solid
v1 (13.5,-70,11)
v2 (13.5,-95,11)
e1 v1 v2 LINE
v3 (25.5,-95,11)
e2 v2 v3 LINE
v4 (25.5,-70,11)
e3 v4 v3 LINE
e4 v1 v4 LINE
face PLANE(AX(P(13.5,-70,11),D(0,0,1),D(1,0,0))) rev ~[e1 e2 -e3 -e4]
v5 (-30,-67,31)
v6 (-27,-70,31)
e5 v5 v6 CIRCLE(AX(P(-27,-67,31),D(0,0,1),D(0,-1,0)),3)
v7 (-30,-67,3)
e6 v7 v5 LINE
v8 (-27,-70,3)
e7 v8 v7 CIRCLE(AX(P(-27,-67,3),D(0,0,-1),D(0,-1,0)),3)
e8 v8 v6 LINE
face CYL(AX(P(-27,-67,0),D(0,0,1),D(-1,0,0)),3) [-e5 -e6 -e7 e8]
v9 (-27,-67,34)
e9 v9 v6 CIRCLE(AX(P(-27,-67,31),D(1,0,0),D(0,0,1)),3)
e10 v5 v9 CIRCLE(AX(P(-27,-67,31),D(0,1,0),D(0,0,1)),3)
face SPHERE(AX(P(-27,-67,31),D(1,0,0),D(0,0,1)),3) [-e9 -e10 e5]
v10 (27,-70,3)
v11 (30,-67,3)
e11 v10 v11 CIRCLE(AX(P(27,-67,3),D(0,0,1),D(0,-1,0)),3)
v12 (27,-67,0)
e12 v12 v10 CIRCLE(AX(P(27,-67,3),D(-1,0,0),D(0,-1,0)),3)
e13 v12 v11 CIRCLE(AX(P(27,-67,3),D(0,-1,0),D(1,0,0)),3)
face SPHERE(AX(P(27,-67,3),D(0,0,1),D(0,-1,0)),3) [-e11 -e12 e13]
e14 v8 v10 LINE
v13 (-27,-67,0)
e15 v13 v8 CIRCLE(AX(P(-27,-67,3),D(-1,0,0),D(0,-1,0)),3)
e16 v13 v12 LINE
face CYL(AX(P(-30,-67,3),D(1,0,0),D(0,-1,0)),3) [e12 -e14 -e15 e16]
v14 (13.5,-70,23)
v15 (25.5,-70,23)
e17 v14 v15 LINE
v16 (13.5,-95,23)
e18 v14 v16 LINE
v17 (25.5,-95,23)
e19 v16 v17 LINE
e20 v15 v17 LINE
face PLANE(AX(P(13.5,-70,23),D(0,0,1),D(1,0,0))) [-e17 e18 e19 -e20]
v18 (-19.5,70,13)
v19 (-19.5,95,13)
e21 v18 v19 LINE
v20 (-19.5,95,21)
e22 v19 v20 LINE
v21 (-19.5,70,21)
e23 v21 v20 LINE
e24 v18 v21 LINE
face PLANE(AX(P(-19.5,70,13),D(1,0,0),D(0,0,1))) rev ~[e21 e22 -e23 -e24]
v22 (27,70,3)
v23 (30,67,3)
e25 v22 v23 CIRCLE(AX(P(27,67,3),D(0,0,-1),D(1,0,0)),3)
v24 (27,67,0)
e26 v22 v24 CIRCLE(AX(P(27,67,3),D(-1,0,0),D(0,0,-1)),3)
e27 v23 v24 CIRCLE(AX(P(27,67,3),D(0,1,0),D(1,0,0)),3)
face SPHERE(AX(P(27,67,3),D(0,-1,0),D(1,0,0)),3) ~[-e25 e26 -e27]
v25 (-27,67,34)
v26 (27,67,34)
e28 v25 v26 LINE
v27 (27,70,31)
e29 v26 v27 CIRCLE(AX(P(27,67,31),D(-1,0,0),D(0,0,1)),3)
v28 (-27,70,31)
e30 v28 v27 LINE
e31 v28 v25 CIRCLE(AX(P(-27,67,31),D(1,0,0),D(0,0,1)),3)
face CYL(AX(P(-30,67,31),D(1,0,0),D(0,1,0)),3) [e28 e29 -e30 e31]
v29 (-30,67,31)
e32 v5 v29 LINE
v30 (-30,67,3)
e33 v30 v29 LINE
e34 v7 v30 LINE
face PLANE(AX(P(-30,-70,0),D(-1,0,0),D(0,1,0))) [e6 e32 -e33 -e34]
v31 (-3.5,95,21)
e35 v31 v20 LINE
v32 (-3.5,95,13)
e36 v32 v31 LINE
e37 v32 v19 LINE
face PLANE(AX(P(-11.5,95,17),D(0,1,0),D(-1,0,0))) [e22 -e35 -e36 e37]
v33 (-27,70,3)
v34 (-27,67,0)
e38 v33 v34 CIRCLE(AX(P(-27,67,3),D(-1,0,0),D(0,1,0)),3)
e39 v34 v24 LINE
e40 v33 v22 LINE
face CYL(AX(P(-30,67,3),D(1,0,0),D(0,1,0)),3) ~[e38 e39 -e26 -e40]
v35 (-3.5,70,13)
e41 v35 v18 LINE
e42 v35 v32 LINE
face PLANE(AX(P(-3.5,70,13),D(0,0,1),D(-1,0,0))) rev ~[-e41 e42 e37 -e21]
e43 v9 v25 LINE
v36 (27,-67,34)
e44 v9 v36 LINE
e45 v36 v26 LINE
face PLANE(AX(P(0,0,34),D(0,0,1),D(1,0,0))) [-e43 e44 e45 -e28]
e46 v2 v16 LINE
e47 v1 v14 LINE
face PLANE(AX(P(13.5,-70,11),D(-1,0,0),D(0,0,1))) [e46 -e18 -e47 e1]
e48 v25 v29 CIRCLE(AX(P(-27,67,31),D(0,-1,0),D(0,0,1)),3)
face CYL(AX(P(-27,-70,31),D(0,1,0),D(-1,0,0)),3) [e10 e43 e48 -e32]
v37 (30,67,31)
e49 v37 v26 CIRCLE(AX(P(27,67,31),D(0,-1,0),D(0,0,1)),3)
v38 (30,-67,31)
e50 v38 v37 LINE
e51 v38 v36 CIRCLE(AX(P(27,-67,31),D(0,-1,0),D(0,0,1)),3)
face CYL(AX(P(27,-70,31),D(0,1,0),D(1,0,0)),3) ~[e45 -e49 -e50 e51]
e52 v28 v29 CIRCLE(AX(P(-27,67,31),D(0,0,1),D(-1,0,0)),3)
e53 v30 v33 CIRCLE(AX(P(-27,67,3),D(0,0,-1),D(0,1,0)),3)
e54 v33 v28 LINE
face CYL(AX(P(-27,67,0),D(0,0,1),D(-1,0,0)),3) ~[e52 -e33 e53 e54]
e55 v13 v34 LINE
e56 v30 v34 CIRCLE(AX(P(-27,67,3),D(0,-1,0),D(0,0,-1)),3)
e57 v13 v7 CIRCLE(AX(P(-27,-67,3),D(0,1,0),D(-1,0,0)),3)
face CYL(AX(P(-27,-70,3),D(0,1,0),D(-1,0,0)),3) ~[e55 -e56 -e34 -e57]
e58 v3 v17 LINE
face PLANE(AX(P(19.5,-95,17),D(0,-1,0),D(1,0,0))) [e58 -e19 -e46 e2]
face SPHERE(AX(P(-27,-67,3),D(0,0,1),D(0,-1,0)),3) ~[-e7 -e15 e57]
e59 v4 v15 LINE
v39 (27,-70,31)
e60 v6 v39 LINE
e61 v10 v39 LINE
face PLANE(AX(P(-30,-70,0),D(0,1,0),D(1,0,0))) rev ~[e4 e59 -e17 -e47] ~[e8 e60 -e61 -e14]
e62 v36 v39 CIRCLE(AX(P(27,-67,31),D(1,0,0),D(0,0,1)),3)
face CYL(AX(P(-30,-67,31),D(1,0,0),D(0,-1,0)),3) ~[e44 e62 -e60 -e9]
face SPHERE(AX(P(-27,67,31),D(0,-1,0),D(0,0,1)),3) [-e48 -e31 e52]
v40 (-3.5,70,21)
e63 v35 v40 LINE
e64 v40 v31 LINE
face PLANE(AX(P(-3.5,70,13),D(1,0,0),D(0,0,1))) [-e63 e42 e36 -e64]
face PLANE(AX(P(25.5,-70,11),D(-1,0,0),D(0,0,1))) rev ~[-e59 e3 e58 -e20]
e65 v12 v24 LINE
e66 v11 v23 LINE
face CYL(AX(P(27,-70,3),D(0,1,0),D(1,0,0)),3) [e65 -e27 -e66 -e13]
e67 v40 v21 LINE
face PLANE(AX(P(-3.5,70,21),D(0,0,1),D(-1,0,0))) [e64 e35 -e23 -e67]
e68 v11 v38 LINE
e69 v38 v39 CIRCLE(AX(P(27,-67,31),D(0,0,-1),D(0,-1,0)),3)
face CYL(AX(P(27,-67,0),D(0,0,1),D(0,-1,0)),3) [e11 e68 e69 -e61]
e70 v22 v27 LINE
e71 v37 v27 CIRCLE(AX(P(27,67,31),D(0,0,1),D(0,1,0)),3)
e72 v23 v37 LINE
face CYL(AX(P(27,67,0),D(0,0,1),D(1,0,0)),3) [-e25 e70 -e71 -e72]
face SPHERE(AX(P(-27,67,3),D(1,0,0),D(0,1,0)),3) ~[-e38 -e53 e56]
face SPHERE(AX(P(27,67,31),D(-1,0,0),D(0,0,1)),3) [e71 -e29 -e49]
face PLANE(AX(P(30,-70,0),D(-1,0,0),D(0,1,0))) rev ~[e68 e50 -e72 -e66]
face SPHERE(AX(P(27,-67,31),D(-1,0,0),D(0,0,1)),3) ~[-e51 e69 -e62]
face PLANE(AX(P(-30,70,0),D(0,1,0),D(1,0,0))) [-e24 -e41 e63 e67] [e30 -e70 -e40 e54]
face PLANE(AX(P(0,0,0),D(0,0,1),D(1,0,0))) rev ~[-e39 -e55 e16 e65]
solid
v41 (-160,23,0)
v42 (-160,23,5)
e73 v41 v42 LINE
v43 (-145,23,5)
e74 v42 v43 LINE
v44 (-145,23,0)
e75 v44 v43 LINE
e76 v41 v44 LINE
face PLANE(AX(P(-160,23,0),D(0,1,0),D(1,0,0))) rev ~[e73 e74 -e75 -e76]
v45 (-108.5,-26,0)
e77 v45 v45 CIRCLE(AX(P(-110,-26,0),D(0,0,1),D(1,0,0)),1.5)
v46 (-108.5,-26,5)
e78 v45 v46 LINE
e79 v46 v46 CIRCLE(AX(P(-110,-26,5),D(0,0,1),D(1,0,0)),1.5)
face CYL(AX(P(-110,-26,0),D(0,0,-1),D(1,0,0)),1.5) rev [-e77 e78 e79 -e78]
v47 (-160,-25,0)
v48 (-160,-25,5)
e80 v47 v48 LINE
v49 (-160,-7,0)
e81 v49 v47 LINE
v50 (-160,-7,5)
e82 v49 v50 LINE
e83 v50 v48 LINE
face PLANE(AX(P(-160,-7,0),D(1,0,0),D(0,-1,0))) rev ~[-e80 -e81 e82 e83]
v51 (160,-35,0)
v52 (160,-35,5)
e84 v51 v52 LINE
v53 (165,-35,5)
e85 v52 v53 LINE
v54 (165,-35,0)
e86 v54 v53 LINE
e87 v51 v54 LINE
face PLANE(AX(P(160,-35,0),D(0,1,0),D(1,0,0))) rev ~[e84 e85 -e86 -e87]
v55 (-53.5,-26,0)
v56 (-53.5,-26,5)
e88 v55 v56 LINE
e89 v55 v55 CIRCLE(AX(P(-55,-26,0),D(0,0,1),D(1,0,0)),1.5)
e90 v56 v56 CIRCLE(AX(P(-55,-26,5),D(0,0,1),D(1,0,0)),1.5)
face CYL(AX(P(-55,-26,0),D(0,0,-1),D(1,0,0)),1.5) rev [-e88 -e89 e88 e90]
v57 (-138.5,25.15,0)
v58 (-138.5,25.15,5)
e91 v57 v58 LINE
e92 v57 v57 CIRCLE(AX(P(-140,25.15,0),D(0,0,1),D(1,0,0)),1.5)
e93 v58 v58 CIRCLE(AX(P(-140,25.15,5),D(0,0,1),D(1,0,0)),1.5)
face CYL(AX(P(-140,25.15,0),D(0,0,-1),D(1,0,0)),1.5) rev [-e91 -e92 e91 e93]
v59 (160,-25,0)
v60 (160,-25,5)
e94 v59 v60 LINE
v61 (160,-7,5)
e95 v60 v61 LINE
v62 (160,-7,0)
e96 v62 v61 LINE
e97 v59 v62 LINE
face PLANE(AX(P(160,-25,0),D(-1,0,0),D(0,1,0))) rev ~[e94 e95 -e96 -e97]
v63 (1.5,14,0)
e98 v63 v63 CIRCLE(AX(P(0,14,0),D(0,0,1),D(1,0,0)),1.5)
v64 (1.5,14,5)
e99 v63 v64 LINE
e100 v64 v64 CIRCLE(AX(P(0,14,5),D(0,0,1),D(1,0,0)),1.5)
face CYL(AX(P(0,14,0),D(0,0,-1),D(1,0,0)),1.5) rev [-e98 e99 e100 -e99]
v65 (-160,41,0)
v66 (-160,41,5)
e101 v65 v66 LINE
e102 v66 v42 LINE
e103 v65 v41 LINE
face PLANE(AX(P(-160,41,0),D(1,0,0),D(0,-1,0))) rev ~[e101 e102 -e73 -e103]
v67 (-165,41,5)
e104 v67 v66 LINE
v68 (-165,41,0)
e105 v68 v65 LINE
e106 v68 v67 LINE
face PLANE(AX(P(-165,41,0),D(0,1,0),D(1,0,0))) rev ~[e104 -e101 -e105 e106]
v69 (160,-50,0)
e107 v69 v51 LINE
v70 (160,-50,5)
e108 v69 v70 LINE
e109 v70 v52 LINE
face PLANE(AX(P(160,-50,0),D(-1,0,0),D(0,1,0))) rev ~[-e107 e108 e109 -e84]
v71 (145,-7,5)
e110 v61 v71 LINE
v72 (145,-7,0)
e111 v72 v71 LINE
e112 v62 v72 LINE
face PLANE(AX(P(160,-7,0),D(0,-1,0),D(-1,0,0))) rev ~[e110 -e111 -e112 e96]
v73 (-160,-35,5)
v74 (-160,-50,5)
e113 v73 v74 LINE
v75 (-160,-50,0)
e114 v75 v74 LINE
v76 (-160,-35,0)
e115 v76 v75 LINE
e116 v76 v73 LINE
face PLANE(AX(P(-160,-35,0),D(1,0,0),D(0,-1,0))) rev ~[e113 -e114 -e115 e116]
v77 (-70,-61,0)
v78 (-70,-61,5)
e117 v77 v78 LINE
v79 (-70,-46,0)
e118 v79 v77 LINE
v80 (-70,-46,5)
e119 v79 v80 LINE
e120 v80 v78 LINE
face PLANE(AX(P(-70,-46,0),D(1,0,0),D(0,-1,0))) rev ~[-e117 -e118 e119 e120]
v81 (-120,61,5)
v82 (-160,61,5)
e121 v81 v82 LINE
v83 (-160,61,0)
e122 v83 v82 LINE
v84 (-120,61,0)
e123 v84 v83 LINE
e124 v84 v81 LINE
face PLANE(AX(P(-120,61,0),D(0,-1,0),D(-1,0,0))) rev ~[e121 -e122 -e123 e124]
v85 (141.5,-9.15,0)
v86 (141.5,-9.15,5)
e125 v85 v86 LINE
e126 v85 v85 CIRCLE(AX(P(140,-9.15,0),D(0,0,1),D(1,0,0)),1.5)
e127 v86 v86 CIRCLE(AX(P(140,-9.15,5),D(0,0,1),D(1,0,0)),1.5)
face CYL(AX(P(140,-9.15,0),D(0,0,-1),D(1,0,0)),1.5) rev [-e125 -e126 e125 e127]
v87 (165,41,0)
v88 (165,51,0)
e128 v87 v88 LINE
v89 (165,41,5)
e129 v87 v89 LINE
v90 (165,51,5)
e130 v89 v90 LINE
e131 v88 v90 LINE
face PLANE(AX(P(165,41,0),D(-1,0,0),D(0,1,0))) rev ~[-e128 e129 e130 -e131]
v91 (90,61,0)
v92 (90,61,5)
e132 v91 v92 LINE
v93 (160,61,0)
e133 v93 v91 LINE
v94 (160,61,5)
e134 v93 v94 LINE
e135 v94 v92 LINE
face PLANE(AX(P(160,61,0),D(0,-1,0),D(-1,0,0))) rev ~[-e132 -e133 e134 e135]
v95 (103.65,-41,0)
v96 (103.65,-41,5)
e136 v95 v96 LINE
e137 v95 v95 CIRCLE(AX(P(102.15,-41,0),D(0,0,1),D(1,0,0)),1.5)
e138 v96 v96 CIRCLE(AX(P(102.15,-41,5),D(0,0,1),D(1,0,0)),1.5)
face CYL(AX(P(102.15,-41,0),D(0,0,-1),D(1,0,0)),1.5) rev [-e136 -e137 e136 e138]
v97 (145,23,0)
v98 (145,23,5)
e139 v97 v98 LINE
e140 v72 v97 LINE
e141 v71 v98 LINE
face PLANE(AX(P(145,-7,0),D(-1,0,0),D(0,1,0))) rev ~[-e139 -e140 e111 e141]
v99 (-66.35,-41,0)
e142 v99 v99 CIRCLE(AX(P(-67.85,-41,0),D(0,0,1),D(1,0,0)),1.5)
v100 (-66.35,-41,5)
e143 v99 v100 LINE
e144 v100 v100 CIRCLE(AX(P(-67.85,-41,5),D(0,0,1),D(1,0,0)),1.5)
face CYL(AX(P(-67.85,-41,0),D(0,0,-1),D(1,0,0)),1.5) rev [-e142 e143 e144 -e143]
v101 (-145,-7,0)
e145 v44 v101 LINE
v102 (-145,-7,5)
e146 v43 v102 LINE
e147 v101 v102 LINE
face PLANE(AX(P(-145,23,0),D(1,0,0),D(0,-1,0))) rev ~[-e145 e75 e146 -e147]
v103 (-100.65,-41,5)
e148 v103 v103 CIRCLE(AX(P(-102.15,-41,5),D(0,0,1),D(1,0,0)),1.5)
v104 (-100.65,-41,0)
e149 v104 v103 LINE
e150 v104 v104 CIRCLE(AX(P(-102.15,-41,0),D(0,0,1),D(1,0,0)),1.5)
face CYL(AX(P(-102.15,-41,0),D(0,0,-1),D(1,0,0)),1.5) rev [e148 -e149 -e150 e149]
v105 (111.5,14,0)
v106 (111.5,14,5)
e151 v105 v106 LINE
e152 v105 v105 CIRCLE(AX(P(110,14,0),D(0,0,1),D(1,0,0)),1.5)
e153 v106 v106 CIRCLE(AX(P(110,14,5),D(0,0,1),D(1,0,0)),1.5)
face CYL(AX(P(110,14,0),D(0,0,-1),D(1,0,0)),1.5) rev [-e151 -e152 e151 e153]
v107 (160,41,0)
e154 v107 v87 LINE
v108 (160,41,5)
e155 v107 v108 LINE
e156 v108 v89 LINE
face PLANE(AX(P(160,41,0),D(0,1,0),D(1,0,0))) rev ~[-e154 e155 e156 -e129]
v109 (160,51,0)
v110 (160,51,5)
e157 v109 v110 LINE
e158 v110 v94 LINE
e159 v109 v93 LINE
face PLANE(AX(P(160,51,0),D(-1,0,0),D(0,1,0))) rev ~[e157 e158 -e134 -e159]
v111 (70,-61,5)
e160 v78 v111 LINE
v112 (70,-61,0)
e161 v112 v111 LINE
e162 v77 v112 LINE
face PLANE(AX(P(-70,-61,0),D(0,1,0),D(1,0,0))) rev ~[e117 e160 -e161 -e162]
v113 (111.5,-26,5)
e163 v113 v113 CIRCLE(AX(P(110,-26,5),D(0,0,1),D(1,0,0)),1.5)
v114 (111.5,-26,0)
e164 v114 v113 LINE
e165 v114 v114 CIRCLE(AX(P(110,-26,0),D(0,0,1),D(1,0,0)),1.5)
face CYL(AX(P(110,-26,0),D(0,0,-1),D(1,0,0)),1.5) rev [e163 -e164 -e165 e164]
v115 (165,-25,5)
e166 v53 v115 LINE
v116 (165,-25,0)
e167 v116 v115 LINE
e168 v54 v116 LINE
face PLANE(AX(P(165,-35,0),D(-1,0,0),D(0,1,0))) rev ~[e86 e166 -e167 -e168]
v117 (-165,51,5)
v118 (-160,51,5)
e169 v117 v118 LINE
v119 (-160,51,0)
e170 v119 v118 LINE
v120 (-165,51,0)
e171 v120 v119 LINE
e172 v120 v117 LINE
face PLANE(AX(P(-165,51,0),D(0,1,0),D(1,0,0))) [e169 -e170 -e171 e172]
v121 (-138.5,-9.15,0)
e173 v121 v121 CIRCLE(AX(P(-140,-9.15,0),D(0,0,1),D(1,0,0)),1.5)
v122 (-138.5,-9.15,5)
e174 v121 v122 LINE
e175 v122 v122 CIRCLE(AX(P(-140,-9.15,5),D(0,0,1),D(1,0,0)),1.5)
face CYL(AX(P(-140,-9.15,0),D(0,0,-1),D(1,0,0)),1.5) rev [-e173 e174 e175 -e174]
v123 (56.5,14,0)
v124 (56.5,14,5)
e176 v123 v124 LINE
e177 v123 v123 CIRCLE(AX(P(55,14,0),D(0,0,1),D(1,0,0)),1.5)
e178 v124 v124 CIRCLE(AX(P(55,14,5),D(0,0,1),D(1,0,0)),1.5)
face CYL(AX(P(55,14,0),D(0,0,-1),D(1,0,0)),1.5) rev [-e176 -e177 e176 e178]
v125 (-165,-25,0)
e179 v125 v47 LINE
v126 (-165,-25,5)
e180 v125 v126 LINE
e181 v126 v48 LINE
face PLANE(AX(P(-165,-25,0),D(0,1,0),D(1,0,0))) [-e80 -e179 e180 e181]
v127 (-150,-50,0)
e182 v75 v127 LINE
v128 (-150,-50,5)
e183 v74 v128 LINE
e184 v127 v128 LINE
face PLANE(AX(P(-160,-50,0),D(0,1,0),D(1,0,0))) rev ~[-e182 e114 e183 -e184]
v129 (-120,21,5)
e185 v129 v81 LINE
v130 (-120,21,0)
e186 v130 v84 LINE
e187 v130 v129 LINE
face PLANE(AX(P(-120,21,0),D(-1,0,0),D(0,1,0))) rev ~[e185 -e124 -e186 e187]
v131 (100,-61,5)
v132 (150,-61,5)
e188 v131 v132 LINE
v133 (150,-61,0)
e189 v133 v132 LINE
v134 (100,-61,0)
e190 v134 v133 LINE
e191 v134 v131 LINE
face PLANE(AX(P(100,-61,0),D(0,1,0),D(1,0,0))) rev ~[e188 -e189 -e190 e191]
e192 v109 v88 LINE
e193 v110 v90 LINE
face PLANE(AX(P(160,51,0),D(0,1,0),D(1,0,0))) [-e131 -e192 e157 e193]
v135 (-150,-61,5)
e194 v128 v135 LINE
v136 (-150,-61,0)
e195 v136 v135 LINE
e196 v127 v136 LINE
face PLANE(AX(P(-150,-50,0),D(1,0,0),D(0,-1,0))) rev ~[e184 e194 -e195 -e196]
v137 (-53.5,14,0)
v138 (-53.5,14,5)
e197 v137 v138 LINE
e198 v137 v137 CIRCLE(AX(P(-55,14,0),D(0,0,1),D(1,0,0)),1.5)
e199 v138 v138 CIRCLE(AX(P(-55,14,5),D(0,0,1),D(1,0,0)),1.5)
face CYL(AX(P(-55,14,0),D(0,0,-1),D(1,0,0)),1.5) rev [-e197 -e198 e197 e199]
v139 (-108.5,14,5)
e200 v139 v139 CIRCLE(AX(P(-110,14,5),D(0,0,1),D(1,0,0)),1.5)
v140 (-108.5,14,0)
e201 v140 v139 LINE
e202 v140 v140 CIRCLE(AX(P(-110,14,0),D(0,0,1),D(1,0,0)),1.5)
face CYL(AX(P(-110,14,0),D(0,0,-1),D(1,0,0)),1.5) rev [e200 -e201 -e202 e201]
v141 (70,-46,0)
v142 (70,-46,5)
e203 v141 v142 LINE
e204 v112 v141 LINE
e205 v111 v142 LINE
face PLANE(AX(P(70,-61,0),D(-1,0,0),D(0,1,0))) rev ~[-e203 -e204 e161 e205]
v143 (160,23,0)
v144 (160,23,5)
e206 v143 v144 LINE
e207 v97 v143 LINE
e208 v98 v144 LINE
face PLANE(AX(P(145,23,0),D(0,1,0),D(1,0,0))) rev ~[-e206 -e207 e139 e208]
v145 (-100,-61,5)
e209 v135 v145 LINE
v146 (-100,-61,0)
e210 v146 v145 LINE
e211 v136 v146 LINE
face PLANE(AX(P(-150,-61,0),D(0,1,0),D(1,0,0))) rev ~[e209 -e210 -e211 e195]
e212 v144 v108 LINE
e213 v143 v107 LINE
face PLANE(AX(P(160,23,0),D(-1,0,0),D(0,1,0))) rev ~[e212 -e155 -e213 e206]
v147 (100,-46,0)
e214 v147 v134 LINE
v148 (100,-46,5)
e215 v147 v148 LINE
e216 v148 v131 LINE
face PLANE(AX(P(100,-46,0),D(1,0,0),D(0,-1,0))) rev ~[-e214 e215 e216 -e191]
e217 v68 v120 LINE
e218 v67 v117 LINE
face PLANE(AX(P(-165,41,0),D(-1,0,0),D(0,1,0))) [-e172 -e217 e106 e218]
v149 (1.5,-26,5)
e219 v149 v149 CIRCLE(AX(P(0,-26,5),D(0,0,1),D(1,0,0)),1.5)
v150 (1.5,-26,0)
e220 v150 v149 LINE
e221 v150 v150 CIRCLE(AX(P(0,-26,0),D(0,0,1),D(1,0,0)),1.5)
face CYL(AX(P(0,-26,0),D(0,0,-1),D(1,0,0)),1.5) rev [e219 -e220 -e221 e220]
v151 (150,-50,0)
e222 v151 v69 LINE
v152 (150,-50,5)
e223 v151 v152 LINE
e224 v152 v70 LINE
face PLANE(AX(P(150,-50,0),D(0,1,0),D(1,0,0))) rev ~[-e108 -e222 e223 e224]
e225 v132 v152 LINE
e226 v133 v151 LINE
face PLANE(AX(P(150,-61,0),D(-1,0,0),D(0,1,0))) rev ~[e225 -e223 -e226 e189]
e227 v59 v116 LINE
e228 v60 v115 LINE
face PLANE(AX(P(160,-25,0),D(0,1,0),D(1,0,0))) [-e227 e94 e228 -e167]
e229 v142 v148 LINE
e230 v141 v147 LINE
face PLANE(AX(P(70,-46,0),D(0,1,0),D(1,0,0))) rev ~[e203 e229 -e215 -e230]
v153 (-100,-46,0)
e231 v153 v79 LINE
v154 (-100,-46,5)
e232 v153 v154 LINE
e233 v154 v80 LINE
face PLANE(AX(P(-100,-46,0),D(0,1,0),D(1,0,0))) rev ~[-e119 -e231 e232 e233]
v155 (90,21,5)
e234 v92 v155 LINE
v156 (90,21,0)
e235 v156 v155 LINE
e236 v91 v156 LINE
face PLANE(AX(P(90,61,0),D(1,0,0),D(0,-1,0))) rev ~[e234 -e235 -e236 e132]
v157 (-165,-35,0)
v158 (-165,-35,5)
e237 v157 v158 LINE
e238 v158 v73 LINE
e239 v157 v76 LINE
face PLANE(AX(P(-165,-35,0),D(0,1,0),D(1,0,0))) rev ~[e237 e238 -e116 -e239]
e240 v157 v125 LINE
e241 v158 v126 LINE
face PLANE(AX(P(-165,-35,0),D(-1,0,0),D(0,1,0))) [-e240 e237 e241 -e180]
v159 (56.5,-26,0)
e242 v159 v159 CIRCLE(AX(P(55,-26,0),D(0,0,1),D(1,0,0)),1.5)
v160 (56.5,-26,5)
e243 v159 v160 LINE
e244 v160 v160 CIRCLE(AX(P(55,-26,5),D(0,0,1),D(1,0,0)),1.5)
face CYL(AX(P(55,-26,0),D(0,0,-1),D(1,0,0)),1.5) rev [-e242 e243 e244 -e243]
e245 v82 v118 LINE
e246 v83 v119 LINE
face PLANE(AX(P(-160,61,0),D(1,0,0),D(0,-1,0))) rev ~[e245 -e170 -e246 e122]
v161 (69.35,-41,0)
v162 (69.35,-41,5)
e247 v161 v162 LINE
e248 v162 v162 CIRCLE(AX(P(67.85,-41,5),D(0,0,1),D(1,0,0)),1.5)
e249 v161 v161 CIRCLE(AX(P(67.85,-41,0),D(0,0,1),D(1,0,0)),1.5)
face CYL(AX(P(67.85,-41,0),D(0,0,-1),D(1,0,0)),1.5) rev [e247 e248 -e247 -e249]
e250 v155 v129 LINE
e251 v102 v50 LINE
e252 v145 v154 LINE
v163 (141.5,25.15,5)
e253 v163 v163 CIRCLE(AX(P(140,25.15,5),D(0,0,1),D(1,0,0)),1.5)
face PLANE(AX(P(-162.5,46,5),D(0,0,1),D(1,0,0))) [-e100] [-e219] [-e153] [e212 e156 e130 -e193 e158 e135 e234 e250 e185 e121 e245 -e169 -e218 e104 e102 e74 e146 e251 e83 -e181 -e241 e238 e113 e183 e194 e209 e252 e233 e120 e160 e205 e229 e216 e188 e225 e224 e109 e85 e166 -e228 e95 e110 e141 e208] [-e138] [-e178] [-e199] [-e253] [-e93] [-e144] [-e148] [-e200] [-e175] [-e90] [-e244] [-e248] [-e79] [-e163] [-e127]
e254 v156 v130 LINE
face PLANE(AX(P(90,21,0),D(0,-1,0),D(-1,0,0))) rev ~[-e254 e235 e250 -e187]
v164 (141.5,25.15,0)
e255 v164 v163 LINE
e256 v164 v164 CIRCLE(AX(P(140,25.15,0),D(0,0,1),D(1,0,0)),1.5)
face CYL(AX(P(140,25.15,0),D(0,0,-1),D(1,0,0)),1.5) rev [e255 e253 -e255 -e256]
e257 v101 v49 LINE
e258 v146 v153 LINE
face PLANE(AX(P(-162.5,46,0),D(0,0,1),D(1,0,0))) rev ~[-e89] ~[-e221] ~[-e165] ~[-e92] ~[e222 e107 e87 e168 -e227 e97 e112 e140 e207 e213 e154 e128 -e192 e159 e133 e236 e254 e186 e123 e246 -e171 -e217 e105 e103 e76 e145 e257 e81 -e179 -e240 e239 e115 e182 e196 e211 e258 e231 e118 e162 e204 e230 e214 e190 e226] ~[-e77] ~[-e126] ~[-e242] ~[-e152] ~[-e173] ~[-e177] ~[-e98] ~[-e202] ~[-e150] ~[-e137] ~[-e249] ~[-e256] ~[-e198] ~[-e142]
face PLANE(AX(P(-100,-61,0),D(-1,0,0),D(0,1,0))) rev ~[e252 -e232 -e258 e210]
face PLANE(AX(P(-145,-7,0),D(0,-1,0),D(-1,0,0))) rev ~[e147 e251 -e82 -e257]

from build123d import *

# Parameters (mm, degrees)
F0_W     = 60
F0_H     = 140
F1_DEPTH = 34
F2_R     = 3
F3_W     = 12
F3_H     = 12
F4_DEPTH = 25
F5_W     = 16
F5_H     = 8
F6_DEPTH = 25
F7_W     = 5
F7_H     = 10
F7_R     = 1.5
F8_DEPTH = 5


with BuildPart() as f1:
    # F0 (on Top) → F1 (new body)
    with BuildSketch(Plane.XY):
        Rectangle(F0_W, F0_H)
    extrude(amount=F1_DEPTH)

    # F2
    f2_edges = [f1.edges().sort_by_distance(p)[0] for p in [
        (0, -70, 34),
        (-30, 0, 34),
        (0, 70, 34),
        (30, 0, 34),
        (30, -70, 17),
        (-30, -70, 17),
        (0, -70, 0),
        (30, 0, 0),
        (30, 70, 17),
        (0, 70, 0),
        (-30, 70, 17),
        (-30, 0, 0),
    ]]
    fillet(f2_edges, radius=F2_R)

    # F3 (on face) → F4 (join)
    with BuildSketch(Plane.XZ.offset(70)):
        with Locations((19.5, 17)):
            Rectangle(F3_W, F3_H)
    extrude(amount=F4_DEPTH)

    # F5 (on face) → F6 (join)
    with BuildSketch(Plane(origin=(0, 70, 0), x_dir=(-1, 0, 0), z_dir=(0, 1, 0))):
        with Locations((11.5, 17)):
            Rectangle(F5_W, F5_H)
    extrude(amount=F6_DEPTH)


with BuildPart() as f8:
    # F7 (on Top) → F8 (new body)
    with BuildSketch(Plane.XY):
        with Locations((-162.5, 46)):
            Rectangle(F7_W, F7_H)
        with Locations((-162.5, -30)):
            Rectangle(F7_W, F7_H)
        with Locations((162.5, 46)):
            Rectangle(F7_W, F7_H)
        with Locations((162.5, -30)):
            Rectangle(F7_W, F7_H)
        Polygon((100, -61), (150, -61), (150, -50), (160, -50), (160, -35), (160, -25), (160, -7), (145, -7), (145, 23), (160, 23), (160, 41), (160, 51), (160, 61), (90, 61), (90, 21), (-120, 21), (-120, 61), (-160, 61), (-160, 51), (-160, 41), (-160, 23), (-145, 23), (-145, -7), (-160, -7), (-160, -25), (-160, -35), (-160, -50), (-150, -50), (-150, -61), (-100, -61), (-100, -46), (-70, -46), (-70, -61), (70, -61), (70, -46), (100, -46), align=None)
        with Locations((-102.15, -41)):
            Circle(F7_R, mode=Mode.SUBTRACT)
        with Locations((-67.85, -41)):
            Circle(F7_R, mode=Mode.SUBTRACT)
        with Locations((-110, -26)):
            Circle(F7_R, mode=Mode.SUBTRACT)
        with Locations((-140, -9.15)):
            Circle(F7_R, mode=Mode.SUBTRACT)
        with Locations((-55, -26)):
            Circle(F7_R, mode=Mode.SUBTRACT)
        with Locations((67.85, -41)):
            Circle(F7_R, mode=Mode.SUBTRACT)
        with Locations((102.15, -41)):
            Circle(F7_R, mode=Mode.SUBTRACT)
        with Locations((0, -26)):
            Circle(F7_R, mode=Mode.SUBTRACT)
        with Locations((55, -26)):
            Circle(F7_R, mode=Mode.SUBTRACT)
        with Locations((110, -26)):
            Circle(F7_R, mode=Mode.SUBTRACT)
        with Locations((140, -9.15)):
            Circle(F7_R, mode=Mode.SUBTRACT)
        with Locations((-110, 14)):
            Circle(F7_R, mode=Mode.SUBTRACT)
        with Locations((-140, 25.15)):
            Circle(F7_R, mode=Mode.SUBTRACT)
        with Locations((-55, 14)):
            Circle(F7_R, mode=Mode.SUBTRACT)
        with Locations((0, 14)):
            Circle(F7_R, mode=Mode.SUBTRACT)
        with Locations((55, 14)):
            Circle(F7_R, mode=Mode.SUBTRACT)
        with Locations((110, 14)):
            Circle(F7_R, mode=Mode.SUBTRACT)
        with Locations((140, 25.15)):
            Circle(F7_R, mode=Mode.SUBTRACT)
    extrude(amount=F8_DEPTH)


solid = Compound([f1.part, f8.part])
